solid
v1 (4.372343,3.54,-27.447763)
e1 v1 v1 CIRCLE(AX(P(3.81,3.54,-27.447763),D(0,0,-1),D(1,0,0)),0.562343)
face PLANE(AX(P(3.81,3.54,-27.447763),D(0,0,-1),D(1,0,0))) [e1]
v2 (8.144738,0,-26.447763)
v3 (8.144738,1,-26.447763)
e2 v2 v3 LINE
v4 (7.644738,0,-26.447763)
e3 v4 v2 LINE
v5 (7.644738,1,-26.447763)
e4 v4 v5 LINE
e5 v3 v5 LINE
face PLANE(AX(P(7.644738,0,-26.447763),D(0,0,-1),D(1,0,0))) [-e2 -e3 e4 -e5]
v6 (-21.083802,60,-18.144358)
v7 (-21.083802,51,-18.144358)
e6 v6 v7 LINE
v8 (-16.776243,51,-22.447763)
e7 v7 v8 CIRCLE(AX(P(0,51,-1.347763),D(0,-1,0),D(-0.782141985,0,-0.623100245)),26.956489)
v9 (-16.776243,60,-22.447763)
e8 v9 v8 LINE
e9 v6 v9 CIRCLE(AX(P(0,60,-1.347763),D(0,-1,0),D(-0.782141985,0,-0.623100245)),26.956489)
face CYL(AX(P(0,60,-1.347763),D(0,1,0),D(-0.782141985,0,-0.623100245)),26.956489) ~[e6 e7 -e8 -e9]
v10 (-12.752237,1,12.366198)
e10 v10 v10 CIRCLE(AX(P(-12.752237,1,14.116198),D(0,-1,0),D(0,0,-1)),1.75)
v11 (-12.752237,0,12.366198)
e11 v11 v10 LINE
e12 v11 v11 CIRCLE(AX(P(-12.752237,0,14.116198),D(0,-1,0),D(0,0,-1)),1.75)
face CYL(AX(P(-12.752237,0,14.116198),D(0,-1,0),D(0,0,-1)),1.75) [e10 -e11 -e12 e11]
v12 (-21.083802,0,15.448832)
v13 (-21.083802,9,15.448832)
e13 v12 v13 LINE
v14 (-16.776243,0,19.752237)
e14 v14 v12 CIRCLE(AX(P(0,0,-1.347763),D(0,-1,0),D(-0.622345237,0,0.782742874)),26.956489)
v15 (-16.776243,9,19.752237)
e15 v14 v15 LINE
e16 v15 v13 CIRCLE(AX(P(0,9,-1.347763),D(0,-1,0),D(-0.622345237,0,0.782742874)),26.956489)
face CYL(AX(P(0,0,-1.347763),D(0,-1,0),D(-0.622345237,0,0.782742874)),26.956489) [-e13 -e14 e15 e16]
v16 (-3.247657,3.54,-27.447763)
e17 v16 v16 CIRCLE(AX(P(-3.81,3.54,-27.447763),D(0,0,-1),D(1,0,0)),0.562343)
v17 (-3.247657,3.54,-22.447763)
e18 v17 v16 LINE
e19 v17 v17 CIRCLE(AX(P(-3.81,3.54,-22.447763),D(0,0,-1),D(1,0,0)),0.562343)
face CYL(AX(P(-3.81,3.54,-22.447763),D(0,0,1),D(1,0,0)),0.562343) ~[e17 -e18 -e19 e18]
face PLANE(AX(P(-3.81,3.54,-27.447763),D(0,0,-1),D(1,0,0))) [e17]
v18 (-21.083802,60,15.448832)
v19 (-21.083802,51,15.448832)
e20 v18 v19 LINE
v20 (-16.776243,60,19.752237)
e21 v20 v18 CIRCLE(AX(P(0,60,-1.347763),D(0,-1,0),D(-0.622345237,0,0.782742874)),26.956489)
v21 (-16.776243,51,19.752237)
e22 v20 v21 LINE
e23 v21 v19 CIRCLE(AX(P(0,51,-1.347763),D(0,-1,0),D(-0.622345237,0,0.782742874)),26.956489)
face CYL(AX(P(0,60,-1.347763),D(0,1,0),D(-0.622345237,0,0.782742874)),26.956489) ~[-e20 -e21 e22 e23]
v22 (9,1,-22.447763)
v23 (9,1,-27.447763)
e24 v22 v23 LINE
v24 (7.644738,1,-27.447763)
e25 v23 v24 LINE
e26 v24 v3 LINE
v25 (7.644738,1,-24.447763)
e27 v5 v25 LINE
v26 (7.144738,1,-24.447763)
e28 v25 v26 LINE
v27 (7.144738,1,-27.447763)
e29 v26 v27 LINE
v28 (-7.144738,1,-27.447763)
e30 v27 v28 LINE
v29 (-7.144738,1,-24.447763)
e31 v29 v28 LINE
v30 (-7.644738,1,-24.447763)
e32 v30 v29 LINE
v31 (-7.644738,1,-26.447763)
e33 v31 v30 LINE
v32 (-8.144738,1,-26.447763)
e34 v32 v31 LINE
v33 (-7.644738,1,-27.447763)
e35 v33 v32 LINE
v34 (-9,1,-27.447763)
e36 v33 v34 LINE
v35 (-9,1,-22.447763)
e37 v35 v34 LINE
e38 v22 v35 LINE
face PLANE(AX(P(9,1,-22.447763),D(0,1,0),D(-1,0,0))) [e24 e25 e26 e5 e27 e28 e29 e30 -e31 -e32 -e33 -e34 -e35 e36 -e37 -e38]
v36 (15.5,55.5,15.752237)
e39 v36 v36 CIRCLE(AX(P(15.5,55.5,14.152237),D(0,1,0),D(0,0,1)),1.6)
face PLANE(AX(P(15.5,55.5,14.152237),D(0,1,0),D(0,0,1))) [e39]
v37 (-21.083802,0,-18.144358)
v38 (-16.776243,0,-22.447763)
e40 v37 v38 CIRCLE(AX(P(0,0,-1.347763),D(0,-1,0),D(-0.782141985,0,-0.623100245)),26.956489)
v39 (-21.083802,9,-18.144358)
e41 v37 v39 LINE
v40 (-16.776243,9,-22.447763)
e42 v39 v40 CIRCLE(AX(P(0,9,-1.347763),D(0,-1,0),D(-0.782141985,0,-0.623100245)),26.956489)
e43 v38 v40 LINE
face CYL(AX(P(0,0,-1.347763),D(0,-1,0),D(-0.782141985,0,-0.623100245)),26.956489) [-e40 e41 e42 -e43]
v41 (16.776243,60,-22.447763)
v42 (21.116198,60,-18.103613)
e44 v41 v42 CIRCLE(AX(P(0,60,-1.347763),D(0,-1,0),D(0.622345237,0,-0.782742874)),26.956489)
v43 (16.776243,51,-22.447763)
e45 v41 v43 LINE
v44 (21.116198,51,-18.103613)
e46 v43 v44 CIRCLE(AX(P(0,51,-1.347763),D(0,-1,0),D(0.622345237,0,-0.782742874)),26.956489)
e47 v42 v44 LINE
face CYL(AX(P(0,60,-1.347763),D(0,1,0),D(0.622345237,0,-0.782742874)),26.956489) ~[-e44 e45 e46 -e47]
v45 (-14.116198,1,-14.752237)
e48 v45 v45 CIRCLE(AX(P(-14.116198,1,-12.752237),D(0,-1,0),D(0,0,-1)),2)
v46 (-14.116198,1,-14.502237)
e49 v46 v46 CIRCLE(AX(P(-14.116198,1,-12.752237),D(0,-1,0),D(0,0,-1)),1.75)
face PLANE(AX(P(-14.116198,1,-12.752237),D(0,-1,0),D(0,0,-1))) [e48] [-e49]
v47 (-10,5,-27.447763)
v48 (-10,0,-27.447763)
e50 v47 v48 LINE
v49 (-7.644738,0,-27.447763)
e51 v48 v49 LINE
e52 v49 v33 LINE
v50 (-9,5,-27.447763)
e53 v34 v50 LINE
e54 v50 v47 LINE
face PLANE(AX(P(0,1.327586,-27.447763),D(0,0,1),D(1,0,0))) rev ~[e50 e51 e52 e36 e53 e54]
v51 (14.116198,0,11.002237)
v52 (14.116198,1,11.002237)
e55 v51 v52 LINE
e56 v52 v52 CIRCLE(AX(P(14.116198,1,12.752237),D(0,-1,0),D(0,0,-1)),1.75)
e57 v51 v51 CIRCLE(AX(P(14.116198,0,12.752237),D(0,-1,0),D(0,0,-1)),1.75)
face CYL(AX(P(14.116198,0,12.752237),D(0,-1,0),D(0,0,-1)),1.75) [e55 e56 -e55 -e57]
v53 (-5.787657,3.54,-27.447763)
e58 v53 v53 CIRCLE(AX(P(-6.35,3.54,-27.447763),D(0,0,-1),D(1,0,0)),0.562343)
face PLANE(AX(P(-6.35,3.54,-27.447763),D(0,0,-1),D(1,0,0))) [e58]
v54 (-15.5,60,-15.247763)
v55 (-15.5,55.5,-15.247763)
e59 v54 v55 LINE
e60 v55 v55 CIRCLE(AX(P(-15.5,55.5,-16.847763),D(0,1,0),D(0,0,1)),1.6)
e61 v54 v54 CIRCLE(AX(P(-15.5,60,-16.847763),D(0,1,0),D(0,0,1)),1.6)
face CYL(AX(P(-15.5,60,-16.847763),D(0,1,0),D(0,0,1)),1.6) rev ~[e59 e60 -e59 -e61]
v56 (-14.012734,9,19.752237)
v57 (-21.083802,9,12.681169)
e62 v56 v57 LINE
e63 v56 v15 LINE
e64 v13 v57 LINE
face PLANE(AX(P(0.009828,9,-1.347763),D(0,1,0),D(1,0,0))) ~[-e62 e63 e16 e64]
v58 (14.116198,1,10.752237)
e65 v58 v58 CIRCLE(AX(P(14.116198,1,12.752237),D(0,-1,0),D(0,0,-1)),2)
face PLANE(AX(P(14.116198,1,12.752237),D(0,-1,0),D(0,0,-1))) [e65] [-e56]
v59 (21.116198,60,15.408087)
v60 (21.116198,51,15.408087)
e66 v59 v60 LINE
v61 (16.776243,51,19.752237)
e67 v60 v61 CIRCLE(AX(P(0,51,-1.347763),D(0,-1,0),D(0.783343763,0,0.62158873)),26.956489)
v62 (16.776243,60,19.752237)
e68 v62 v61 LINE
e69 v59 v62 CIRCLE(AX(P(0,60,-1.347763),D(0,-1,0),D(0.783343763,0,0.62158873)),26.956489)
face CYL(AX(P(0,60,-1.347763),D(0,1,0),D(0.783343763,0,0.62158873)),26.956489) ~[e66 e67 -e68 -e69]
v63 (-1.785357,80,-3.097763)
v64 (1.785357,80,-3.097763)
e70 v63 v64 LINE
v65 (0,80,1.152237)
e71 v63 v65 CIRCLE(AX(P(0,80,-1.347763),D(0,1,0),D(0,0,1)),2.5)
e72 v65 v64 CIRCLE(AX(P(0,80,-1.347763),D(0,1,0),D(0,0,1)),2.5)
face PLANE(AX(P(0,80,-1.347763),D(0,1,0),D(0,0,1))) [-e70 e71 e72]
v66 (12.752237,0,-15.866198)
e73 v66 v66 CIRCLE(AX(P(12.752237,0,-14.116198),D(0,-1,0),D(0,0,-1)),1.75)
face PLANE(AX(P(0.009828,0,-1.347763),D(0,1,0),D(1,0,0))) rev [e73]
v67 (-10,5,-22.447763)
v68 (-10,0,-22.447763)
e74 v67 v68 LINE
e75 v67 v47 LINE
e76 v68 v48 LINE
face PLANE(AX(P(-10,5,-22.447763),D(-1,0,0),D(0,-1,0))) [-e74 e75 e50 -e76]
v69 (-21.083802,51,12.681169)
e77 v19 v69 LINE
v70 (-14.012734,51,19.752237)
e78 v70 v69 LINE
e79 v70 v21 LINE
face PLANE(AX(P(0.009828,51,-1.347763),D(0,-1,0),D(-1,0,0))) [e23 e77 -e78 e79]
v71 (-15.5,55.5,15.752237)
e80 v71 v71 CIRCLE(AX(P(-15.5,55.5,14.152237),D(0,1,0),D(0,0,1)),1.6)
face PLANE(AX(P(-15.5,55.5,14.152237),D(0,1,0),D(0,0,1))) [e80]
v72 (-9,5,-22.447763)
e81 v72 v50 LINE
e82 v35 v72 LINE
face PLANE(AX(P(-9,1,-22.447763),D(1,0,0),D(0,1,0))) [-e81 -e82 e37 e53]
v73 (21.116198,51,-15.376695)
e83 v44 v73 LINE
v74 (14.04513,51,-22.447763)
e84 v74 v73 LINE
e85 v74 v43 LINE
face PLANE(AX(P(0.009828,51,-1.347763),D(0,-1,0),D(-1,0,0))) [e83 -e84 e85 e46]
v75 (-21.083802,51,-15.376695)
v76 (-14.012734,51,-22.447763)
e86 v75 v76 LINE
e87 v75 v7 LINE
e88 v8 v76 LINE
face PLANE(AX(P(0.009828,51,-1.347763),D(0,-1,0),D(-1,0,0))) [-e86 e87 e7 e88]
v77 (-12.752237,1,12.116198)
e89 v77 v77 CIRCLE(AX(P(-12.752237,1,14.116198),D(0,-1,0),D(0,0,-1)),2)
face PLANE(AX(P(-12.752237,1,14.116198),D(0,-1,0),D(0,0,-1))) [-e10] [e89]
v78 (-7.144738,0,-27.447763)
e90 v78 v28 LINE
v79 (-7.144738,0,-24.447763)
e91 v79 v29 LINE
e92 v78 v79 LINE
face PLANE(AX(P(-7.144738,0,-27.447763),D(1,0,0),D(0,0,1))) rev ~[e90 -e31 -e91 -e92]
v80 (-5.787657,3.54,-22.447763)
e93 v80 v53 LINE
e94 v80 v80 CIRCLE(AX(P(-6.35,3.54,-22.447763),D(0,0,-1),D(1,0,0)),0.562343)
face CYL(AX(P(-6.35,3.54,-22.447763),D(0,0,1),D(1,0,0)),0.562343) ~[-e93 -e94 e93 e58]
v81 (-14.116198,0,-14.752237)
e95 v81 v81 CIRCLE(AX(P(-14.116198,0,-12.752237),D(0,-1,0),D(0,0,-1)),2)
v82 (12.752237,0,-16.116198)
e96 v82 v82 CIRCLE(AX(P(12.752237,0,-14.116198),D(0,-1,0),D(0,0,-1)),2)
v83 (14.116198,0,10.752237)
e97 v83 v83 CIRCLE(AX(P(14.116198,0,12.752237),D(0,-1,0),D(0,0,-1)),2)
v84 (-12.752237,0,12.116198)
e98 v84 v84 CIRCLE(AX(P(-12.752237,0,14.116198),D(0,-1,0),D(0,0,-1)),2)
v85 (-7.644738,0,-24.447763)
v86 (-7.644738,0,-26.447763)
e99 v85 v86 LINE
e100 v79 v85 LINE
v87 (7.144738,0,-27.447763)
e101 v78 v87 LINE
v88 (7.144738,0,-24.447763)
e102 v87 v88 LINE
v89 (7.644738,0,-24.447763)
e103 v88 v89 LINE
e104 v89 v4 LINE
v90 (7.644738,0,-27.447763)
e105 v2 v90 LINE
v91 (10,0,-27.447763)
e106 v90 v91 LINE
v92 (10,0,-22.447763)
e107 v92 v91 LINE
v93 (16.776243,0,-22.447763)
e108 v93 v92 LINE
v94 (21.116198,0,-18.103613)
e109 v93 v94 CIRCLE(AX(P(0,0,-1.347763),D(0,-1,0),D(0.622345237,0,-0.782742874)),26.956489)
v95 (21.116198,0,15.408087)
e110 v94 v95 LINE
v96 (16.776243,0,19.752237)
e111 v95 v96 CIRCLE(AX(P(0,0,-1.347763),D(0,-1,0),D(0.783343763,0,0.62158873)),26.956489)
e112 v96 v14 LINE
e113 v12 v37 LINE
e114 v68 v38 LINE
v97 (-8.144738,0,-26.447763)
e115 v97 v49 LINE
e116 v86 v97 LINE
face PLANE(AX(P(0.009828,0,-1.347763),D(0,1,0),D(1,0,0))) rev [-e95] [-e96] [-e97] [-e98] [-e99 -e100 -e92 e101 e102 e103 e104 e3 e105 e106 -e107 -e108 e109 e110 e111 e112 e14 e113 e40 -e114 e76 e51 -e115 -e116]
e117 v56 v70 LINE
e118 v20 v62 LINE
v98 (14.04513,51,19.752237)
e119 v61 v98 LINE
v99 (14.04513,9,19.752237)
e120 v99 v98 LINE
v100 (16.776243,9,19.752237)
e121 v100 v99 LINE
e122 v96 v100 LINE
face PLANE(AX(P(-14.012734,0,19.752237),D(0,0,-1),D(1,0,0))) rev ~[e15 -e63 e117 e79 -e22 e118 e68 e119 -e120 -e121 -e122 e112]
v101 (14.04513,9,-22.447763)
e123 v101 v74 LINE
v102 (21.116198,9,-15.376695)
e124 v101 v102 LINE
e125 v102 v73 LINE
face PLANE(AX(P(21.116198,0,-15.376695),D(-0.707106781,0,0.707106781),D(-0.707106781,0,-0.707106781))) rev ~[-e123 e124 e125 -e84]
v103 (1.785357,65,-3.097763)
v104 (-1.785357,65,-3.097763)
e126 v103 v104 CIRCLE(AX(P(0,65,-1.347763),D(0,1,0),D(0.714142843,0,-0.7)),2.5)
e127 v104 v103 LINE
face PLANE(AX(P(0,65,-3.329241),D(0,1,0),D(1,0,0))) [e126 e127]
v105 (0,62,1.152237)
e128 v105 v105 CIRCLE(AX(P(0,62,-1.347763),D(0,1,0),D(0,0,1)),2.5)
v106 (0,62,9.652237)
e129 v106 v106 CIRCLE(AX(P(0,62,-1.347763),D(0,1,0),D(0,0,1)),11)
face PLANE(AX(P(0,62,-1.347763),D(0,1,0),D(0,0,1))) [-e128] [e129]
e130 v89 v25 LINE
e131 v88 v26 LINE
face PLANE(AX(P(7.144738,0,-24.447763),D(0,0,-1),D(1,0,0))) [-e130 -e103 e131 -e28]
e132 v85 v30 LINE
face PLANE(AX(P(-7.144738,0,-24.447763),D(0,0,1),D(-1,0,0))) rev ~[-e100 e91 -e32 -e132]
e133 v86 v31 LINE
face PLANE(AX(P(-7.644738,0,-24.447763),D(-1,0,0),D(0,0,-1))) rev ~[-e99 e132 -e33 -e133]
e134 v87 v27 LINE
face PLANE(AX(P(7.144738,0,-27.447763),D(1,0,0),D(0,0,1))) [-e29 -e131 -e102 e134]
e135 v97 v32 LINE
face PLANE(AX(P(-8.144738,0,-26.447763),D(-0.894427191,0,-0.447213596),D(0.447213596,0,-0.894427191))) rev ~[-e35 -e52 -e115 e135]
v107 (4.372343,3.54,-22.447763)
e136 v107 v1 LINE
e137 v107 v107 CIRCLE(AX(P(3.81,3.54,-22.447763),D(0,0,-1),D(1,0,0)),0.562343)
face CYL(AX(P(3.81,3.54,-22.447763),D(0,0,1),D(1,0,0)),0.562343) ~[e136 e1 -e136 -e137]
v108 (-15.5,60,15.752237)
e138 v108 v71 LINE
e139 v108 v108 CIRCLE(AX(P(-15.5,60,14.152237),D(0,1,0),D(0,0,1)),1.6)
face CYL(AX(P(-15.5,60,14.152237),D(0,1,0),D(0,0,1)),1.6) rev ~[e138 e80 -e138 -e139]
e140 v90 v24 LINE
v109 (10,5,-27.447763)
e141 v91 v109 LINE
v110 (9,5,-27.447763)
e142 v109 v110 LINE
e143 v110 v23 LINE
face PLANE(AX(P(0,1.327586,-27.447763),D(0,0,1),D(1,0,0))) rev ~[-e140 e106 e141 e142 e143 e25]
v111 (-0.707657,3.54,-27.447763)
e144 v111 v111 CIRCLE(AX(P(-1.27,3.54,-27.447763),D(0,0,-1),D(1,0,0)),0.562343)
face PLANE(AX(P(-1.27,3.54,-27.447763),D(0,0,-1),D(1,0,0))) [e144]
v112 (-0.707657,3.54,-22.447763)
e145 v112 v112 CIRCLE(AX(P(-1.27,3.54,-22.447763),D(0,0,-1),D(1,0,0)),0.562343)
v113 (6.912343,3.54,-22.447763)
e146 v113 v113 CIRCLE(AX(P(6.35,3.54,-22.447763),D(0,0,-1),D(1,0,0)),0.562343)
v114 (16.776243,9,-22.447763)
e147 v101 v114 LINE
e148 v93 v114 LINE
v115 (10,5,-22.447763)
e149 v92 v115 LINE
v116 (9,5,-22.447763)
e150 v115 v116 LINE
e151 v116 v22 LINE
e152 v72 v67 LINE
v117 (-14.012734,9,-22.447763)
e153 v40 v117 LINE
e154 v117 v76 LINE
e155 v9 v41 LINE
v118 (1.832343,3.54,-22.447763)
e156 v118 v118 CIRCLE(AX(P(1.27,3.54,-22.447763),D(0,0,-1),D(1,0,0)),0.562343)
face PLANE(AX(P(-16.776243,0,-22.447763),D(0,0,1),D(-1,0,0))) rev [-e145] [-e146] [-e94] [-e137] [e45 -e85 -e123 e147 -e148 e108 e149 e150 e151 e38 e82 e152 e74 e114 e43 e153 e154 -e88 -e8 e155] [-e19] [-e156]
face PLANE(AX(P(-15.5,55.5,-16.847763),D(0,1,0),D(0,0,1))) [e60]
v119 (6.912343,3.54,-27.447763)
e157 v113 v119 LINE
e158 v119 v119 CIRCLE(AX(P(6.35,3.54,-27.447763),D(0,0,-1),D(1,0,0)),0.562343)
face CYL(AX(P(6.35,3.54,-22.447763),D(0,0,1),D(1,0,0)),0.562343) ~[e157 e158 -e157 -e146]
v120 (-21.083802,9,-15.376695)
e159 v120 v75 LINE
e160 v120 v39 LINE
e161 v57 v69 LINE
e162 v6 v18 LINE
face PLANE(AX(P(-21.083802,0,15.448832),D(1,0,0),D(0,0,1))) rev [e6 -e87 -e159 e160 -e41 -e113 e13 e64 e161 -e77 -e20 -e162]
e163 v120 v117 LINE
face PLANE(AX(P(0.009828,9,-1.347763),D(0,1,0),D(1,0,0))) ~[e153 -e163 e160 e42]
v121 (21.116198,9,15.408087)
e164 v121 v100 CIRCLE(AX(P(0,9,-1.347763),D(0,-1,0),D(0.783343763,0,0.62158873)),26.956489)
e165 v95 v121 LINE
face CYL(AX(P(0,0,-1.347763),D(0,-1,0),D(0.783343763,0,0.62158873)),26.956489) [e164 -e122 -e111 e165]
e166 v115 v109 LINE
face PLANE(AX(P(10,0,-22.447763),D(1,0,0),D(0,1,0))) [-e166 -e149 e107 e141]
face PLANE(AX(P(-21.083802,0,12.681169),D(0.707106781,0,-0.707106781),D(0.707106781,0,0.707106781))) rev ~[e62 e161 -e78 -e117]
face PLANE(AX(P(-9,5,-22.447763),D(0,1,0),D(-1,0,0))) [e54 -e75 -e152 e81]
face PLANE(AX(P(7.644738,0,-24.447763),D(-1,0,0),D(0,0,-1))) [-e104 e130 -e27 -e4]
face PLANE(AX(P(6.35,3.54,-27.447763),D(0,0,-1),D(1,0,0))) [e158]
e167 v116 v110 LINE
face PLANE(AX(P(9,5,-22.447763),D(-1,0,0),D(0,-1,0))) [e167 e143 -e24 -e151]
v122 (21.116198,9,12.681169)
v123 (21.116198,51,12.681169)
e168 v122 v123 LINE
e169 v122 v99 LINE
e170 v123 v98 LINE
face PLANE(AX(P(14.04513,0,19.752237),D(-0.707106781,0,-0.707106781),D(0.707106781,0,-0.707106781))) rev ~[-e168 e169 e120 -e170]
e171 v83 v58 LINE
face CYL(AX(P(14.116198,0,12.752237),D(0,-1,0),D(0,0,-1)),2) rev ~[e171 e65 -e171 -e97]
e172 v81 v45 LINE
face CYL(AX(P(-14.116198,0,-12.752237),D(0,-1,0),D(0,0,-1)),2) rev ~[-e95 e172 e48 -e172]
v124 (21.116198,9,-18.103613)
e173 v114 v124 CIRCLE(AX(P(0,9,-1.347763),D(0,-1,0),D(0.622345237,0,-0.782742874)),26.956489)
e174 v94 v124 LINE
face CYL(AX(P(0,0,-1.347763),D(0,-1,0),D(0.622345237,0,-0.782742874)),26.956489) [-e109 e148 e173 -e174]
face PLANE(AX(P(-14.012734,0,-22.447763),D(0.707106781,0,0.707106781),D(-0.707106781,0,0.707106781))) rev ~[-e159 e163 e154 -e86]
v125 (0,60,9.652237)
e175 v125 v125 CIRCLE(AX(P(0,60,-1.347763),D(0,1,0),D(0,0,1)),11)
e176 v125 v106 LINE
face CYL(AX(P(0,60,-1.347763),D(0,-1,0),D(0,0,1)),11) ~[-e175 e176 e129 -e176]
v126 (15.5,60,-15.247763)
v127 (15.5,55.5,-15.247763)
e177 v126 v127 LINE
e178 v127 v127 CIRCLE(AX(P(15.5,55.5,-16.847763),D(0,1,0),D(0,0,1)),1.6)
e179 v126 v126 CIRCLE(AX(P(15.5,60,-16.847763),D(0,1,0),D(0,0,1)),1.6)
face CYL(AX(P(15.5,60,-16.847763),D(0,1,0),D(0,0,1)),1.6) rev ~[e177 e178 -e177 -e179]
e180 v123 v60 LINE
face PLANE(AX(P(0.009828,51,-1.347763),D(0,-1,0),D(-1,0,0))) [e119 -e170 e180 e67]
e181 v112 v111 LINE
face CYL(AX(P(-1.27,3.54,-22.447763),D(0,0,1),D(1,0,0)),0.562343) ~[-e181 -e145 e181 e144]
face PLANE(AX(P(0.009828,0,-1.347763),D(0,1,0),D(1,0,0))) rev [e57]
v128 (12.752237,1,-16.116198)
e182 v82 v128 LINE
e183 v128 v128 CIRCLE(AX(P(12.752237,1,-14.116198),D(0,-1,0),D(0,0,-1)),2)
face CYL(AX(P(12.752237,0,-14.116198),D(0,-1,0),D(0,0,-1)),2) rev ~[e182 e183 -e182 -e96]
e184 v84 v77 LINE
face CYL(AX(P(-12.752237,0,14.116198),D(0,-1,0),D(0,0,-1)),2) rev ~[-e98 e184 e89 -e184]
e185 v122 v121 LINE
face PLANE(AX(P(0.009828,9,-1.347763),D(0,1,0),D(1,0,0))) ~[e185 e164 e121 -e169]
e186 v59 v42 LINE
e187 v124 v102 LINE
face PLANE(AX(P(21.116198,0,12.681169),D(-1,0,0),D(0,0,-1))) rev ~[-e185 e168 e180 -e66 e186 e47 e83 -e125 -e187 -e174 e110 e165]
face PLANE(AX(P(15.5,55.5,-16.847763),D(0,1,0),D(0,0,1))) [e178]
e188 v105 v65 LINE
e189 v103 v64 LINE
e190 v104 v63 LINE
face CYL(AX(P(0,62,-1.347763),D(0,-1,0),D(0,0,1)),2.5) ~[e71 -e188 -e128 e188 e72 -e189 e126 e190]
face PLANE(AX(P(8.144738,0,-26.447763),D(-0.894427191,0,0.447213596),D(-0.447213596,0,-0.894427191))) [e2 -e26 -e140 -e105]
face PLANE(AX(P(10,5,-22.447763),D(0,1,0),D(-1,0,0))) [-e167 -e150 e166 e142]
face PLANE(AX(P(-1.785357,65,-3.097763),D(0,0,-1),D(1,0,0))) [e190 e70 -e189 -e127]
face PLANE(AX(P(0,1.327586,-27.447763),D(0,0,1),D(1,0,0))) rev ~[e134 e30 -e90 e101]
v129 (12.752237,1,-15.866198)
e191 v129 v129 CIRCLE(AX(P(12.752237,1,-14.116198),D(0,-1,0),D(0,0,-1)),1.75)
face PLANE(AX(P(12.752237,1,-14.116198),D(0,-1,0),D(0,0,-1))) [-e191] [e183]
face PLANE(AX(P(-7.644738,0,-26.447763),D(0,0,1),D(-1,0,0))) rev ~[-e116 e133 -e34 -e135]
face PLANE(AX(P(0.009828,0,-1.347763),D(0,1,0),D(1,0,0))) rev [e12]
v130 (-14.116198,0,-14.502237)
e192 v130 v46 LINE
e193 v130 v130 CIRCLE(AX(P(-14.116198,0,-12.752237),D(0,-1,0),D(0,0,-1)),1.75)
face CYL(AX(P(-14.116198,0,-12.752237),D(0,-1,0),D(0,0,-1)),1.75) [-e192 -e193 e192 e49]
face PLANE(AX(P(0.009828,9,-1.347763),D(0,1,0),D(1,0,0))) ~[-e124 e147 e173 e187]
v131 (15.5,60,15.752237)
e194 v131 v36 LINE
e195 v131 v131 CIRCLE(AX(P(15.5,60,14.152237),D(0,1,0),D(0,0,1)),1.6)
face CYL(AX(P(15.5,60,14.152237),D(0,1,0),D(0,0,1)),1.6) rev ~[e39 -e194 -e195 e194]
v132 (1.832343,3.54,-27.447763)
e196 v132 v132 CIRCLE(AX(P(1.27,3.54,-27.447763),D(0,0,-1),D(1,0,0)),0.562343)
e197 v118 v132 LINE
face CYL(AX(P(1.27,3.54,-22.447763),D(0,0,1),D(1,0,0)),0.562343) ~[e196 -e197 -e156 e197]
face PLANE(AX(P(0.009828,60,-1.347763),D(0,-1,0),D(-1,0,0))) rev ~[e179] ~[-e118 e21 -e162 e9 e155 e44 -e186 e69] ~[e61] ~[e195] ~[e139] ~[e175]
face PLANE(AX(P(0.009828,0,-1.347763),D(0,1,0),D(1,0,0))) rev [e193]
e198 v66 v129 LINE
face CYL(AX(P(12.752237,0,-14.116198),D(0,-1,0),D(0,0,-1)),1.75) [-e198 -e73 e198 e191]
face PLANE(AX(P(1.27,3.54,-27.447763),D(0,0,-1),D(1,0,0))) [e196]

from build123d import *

# Parameters (mm, degrees)
EXTRUDE_1_DEPTH     = 60
EXTRUDE_2_DEPTH     = 9
SKETCH_7_R          = 11
EXTRUDE_3_DEPTH     = 2
SKETCH_8_R          = 2.5
EXTRUDE_4_DEPTH     = 18
CUT_EXTRUDE_START   = -15
CUT_EXTRUDE_1_DEPTH = 15
SKETCH_10_R         = 1.6
CUT_EXTRUDE_2_DEPTH = 4.5
EXTRUDE_5_DEPTH     = 5
CUT_EXTRUDE_3_DEPTH = 5
SKETCH_13_R         = 0.562342784
EXTRUDE_6_DEPTH     = 5
SKETCH_14_R         = 2
SKETCH_14_R_2       = 1.75
CUT_EXTRUDE_4_DEPTH = 1


with BuildPart() as part:
    # 草图2 → 凸台-拉伸1 (new body)
    with BuildSketch(Plane(origin=(0, 0, 0), x_dir=(1, 0, 0), z_dir=(0, 1, 0))):
        Polygon((-14.012734328, 22.447763171), (-21.08380214, 15.376695359), (-21.08380214, -12.681169017), (-14.012734328, -19.752236829), (14.045130048, -19.752236829), (21.11619786, -12.681169017), (21.11619786, 15.376695359), (14.045130048, 22.447763171), align=None)
    extrude(amount=EXTRUDE_1_DEPTH)

    # 草图5 → 凸台-拉伸2 (add)
    with BuildSketch(Plane(origin=(0, 60, 0), x_dir=(1, 0, 0), z_dir=(0, 1, 0))):
        with BuildLine():
            Line((-16.776242784, 22.447763171), (16.776242784, 22.447763171))
            ThreePointArc((16.776242784, 22.447763171), (19.070321818, 20.399669839), (21.11619786, 18.103613191))
            Line((21.11619786, 18.103613191), (21.11619786, -15.408086849))
            ThreePointArc((21.11619786, -15.408086849), (19.070321818, -17.704143498), (16.776242784, -19.752236829))
            Line((16.776242784, -19.752236829), (-16.776242784, -19.752236829))
            ThreePointArc((-16.776242784, -19.752236829), (-19.051917848, -17.722547478), (-21.08380214, -15.448831998))
            Line((-21.08380214, -15.448831998), (-21.08380214, 18.14435834))
            ThreePointArc((-21.08380214, 18.14435834), (-19.051917848, 20.41807382), (-16.776242784, 22.447763171))
        make_face()
    extrude_2 = extrude(amount=-EXTRUDE_2_DEPTH)

    # 镜向1: 凸台-拉伸2 across plane
    add(extrude_2.mirror(Plane.ZX.offset(30)))

    # 草图7 → 凸台-拉伸3 (add)
    with BuildSketch(Plane(origin=(0, 60, 0), x_dir=(1, 0, 0), z_dir=(0, 1, 0))):
        with Locations(Location((0, 1.347763171, 0), (0, 0, 270))):
            Circle(SKETCH_7_R)
    extrude(amount=EXTRUDE_3_DEPTH)

    # 草图8 → 凸台-拉伸4 (add)
    with BuildSketch(Plane(origin=(0, 62, 0), x_dir=(1, 0, 0), z_dir=(0, 1, 0))):
        with Locations(Location((0, 1.347763171, 0), (0, 0, 270))):
            Circle(SKETCH_8_R)
    extrude(amount=EXTRUDE_4_DEPTH)

    # 草图9 → 切除-拉伸1 (cut)
    with BuildSketch(Plane(origin=(0, 80, 0), x_dir=(1, 0, 0), z_dir=(0, 1, 0)).offset(CUT_EXTRUDE_START)):
        with BuildLine():
            Line((-1.785357107, 3.097763171), (1.785357107, 3.097763171))
            ThreePointArc((1.785357107, 3.097763171), (0, 3.847763171), (-1.785357107, 3.097763171))
        make_face()
    extrude(amount=CUT_EXTRUDE_1_DEPTH, mode=Mode.SUBTRACT)

    # 草图10 → 切除-拉伸2 (cut)
    with BuildSketch(Plane(origin=(0, 60, 0), x_dir=(1, 0, 0), z_dir=(0, 1, 0))):
        with Locations(Location((-15.5, 16.847763171, 0), (0, 0, 270))):
            Circle(SKETCH_10_R)
        with Locations(Location((15.5, 16.847763171, 0), (0, 0, 270))):
            Circle(SKETCH_10_R)
        with Locations(Location((15.5, -14.152236829, 0), (0, 0, 270))):
            Circle(SKETCH_10_R)
        with Locations(Location((-15.5, -14.152236829, 0), (0, 0, 270))):
            Circle(SKETCH_10_R)
    extrude(amount=-CUT_EXTRUDE_2_DEPTH, mode=Mode.SUBTRACT)

    # 草图11 → 凸台-拉伸5 (add)
    with BuildSketch(Plane(origin=(0, 0, -22.447763171), x_dir=(-1, 0, 0), z_dir=(0, 0, -1))):
        Polygon((10, 0), (-10, 0), (-10, 5), (-9, 5), (-9, 1), (9, 1), (9, 5), (10, 5), align=None)
    extrude(amount=EXTRUDE_5_DEPTH)

    # 草图12 → 切除-拉伸3 (cut)
    with BuildSketch(Plane.XZ):
        Polygon((-7.144738058, -27.447763171), (-7.144738058, -24.447763171), (-7.644738058, -24.447763171), (-7.644738058, -26.447763171), (-8.144738058, -26.447763171), (-7.644738058, -27.447763171), align=None)
        Polygon((7.644738058, -27.447763171), (7.144738058, -27.447763171), (7.144738058, -24.447763171), (7.644738058, -24.447763171), (7.644738058, -26.447763171), (8.144738058, -26.447763171), align=None)
    extrude(amount=-CUT_EXTRUDE_3_DEPTH, mode=Mode.SUBTRACT)

    # 草图13 → 凸台-拉伸6 (add)
    with BuildSketch(Plane(origin=(0, 0, -22.447763171), x_dir=(-1, 0, 0), z_dir=(0, 0, -1))):
        with Locations(Location((-1.27, 3.54, 0), (0, 0, 180))):
            Circle(SKETCH_13_R)
        with Locations(Location((-3.81, 3.54, 0), (0, 0, 180))):
            Circle(SKETCH_13_R)
        with Locations(Location((-6.35, 3.54, 0), (0, 0, 180))):
            Circle(SKETCH_13_R)
        with Locations(Location((6.35, 3.54, 0), (0, 0, 180))):
            Circle(SKETCH_13_R)
        with Locations(Location((3.81, 3.54, 0), (0, 0, 180))):
            Circle(SKETCH_13_R)
        with Locations(Location((1.27, 3.54, 0), (0, 0, 180))):
            Circle(SKETCH_13_R)
    extrude(amount=EXTRUDE_6_DEPTH)

    # 草图14 → 切除-拉伸4 (cut)
    # profile 1 of 4: a face of its own
    with BuildSketch(Plane.XZ):
        with Locations(Location((14.11619786, 12.752236829, 0), (0, 0, 270))):
            Circle(SKETCH_14_R)
        with Locations(Location((14.11619786, 12.752236829, 0), (0, 0, 270))):
            Circle(SKETCH_14_R_2, mode=Mode.SUBTRACT)
    # profile 2 of 4: a face of its own
    with BuildSketch(Plane.XZ):
        with Locations(Location((12.752236829, -14.11619786, 0), (0, 0, 270))):
            Circle(SKETCH_14_R)
        with Locations(Location((12.752236829, -14.11619786, 0), (0, 0, 270))):
            Circle(SKETCH_14_R_2, mode=Mode.SUBTRACT)
    # profile 3 of 4: a face of its own
    with BuildSketch(Plane.XZ):
        with Locations(Location((-14.11619786, -12.752236829, 0), (0, 0, 270))):
            Circle(SKETCH_14_R)
        with Locations(Location((-14.11619786, -12.752236829, 0), (0, 0, 270))):
            Circle(SKETCH_14_R_2, mode=Mode.SUBTRACT)
    # profile 4 of 4: a face of its own
    with BuildSketch(Plane.XZ):
        with Locations(Location((-12.752236829, 14.11619786, 0), (0, 0, 270))):
            Circle(SKETCH_14_R)
        with Locations(Location((-12.752236829, 14.11619786, 0), (0, 0, 270))):
            Circle(SKETCH_14_R_2, mode=Mode.SUBTRACT)
    extrude(amount=-CUT_EXTRUDE_4_DEPTH, mode=Mode.SUBTRACT)


solid = part.part
